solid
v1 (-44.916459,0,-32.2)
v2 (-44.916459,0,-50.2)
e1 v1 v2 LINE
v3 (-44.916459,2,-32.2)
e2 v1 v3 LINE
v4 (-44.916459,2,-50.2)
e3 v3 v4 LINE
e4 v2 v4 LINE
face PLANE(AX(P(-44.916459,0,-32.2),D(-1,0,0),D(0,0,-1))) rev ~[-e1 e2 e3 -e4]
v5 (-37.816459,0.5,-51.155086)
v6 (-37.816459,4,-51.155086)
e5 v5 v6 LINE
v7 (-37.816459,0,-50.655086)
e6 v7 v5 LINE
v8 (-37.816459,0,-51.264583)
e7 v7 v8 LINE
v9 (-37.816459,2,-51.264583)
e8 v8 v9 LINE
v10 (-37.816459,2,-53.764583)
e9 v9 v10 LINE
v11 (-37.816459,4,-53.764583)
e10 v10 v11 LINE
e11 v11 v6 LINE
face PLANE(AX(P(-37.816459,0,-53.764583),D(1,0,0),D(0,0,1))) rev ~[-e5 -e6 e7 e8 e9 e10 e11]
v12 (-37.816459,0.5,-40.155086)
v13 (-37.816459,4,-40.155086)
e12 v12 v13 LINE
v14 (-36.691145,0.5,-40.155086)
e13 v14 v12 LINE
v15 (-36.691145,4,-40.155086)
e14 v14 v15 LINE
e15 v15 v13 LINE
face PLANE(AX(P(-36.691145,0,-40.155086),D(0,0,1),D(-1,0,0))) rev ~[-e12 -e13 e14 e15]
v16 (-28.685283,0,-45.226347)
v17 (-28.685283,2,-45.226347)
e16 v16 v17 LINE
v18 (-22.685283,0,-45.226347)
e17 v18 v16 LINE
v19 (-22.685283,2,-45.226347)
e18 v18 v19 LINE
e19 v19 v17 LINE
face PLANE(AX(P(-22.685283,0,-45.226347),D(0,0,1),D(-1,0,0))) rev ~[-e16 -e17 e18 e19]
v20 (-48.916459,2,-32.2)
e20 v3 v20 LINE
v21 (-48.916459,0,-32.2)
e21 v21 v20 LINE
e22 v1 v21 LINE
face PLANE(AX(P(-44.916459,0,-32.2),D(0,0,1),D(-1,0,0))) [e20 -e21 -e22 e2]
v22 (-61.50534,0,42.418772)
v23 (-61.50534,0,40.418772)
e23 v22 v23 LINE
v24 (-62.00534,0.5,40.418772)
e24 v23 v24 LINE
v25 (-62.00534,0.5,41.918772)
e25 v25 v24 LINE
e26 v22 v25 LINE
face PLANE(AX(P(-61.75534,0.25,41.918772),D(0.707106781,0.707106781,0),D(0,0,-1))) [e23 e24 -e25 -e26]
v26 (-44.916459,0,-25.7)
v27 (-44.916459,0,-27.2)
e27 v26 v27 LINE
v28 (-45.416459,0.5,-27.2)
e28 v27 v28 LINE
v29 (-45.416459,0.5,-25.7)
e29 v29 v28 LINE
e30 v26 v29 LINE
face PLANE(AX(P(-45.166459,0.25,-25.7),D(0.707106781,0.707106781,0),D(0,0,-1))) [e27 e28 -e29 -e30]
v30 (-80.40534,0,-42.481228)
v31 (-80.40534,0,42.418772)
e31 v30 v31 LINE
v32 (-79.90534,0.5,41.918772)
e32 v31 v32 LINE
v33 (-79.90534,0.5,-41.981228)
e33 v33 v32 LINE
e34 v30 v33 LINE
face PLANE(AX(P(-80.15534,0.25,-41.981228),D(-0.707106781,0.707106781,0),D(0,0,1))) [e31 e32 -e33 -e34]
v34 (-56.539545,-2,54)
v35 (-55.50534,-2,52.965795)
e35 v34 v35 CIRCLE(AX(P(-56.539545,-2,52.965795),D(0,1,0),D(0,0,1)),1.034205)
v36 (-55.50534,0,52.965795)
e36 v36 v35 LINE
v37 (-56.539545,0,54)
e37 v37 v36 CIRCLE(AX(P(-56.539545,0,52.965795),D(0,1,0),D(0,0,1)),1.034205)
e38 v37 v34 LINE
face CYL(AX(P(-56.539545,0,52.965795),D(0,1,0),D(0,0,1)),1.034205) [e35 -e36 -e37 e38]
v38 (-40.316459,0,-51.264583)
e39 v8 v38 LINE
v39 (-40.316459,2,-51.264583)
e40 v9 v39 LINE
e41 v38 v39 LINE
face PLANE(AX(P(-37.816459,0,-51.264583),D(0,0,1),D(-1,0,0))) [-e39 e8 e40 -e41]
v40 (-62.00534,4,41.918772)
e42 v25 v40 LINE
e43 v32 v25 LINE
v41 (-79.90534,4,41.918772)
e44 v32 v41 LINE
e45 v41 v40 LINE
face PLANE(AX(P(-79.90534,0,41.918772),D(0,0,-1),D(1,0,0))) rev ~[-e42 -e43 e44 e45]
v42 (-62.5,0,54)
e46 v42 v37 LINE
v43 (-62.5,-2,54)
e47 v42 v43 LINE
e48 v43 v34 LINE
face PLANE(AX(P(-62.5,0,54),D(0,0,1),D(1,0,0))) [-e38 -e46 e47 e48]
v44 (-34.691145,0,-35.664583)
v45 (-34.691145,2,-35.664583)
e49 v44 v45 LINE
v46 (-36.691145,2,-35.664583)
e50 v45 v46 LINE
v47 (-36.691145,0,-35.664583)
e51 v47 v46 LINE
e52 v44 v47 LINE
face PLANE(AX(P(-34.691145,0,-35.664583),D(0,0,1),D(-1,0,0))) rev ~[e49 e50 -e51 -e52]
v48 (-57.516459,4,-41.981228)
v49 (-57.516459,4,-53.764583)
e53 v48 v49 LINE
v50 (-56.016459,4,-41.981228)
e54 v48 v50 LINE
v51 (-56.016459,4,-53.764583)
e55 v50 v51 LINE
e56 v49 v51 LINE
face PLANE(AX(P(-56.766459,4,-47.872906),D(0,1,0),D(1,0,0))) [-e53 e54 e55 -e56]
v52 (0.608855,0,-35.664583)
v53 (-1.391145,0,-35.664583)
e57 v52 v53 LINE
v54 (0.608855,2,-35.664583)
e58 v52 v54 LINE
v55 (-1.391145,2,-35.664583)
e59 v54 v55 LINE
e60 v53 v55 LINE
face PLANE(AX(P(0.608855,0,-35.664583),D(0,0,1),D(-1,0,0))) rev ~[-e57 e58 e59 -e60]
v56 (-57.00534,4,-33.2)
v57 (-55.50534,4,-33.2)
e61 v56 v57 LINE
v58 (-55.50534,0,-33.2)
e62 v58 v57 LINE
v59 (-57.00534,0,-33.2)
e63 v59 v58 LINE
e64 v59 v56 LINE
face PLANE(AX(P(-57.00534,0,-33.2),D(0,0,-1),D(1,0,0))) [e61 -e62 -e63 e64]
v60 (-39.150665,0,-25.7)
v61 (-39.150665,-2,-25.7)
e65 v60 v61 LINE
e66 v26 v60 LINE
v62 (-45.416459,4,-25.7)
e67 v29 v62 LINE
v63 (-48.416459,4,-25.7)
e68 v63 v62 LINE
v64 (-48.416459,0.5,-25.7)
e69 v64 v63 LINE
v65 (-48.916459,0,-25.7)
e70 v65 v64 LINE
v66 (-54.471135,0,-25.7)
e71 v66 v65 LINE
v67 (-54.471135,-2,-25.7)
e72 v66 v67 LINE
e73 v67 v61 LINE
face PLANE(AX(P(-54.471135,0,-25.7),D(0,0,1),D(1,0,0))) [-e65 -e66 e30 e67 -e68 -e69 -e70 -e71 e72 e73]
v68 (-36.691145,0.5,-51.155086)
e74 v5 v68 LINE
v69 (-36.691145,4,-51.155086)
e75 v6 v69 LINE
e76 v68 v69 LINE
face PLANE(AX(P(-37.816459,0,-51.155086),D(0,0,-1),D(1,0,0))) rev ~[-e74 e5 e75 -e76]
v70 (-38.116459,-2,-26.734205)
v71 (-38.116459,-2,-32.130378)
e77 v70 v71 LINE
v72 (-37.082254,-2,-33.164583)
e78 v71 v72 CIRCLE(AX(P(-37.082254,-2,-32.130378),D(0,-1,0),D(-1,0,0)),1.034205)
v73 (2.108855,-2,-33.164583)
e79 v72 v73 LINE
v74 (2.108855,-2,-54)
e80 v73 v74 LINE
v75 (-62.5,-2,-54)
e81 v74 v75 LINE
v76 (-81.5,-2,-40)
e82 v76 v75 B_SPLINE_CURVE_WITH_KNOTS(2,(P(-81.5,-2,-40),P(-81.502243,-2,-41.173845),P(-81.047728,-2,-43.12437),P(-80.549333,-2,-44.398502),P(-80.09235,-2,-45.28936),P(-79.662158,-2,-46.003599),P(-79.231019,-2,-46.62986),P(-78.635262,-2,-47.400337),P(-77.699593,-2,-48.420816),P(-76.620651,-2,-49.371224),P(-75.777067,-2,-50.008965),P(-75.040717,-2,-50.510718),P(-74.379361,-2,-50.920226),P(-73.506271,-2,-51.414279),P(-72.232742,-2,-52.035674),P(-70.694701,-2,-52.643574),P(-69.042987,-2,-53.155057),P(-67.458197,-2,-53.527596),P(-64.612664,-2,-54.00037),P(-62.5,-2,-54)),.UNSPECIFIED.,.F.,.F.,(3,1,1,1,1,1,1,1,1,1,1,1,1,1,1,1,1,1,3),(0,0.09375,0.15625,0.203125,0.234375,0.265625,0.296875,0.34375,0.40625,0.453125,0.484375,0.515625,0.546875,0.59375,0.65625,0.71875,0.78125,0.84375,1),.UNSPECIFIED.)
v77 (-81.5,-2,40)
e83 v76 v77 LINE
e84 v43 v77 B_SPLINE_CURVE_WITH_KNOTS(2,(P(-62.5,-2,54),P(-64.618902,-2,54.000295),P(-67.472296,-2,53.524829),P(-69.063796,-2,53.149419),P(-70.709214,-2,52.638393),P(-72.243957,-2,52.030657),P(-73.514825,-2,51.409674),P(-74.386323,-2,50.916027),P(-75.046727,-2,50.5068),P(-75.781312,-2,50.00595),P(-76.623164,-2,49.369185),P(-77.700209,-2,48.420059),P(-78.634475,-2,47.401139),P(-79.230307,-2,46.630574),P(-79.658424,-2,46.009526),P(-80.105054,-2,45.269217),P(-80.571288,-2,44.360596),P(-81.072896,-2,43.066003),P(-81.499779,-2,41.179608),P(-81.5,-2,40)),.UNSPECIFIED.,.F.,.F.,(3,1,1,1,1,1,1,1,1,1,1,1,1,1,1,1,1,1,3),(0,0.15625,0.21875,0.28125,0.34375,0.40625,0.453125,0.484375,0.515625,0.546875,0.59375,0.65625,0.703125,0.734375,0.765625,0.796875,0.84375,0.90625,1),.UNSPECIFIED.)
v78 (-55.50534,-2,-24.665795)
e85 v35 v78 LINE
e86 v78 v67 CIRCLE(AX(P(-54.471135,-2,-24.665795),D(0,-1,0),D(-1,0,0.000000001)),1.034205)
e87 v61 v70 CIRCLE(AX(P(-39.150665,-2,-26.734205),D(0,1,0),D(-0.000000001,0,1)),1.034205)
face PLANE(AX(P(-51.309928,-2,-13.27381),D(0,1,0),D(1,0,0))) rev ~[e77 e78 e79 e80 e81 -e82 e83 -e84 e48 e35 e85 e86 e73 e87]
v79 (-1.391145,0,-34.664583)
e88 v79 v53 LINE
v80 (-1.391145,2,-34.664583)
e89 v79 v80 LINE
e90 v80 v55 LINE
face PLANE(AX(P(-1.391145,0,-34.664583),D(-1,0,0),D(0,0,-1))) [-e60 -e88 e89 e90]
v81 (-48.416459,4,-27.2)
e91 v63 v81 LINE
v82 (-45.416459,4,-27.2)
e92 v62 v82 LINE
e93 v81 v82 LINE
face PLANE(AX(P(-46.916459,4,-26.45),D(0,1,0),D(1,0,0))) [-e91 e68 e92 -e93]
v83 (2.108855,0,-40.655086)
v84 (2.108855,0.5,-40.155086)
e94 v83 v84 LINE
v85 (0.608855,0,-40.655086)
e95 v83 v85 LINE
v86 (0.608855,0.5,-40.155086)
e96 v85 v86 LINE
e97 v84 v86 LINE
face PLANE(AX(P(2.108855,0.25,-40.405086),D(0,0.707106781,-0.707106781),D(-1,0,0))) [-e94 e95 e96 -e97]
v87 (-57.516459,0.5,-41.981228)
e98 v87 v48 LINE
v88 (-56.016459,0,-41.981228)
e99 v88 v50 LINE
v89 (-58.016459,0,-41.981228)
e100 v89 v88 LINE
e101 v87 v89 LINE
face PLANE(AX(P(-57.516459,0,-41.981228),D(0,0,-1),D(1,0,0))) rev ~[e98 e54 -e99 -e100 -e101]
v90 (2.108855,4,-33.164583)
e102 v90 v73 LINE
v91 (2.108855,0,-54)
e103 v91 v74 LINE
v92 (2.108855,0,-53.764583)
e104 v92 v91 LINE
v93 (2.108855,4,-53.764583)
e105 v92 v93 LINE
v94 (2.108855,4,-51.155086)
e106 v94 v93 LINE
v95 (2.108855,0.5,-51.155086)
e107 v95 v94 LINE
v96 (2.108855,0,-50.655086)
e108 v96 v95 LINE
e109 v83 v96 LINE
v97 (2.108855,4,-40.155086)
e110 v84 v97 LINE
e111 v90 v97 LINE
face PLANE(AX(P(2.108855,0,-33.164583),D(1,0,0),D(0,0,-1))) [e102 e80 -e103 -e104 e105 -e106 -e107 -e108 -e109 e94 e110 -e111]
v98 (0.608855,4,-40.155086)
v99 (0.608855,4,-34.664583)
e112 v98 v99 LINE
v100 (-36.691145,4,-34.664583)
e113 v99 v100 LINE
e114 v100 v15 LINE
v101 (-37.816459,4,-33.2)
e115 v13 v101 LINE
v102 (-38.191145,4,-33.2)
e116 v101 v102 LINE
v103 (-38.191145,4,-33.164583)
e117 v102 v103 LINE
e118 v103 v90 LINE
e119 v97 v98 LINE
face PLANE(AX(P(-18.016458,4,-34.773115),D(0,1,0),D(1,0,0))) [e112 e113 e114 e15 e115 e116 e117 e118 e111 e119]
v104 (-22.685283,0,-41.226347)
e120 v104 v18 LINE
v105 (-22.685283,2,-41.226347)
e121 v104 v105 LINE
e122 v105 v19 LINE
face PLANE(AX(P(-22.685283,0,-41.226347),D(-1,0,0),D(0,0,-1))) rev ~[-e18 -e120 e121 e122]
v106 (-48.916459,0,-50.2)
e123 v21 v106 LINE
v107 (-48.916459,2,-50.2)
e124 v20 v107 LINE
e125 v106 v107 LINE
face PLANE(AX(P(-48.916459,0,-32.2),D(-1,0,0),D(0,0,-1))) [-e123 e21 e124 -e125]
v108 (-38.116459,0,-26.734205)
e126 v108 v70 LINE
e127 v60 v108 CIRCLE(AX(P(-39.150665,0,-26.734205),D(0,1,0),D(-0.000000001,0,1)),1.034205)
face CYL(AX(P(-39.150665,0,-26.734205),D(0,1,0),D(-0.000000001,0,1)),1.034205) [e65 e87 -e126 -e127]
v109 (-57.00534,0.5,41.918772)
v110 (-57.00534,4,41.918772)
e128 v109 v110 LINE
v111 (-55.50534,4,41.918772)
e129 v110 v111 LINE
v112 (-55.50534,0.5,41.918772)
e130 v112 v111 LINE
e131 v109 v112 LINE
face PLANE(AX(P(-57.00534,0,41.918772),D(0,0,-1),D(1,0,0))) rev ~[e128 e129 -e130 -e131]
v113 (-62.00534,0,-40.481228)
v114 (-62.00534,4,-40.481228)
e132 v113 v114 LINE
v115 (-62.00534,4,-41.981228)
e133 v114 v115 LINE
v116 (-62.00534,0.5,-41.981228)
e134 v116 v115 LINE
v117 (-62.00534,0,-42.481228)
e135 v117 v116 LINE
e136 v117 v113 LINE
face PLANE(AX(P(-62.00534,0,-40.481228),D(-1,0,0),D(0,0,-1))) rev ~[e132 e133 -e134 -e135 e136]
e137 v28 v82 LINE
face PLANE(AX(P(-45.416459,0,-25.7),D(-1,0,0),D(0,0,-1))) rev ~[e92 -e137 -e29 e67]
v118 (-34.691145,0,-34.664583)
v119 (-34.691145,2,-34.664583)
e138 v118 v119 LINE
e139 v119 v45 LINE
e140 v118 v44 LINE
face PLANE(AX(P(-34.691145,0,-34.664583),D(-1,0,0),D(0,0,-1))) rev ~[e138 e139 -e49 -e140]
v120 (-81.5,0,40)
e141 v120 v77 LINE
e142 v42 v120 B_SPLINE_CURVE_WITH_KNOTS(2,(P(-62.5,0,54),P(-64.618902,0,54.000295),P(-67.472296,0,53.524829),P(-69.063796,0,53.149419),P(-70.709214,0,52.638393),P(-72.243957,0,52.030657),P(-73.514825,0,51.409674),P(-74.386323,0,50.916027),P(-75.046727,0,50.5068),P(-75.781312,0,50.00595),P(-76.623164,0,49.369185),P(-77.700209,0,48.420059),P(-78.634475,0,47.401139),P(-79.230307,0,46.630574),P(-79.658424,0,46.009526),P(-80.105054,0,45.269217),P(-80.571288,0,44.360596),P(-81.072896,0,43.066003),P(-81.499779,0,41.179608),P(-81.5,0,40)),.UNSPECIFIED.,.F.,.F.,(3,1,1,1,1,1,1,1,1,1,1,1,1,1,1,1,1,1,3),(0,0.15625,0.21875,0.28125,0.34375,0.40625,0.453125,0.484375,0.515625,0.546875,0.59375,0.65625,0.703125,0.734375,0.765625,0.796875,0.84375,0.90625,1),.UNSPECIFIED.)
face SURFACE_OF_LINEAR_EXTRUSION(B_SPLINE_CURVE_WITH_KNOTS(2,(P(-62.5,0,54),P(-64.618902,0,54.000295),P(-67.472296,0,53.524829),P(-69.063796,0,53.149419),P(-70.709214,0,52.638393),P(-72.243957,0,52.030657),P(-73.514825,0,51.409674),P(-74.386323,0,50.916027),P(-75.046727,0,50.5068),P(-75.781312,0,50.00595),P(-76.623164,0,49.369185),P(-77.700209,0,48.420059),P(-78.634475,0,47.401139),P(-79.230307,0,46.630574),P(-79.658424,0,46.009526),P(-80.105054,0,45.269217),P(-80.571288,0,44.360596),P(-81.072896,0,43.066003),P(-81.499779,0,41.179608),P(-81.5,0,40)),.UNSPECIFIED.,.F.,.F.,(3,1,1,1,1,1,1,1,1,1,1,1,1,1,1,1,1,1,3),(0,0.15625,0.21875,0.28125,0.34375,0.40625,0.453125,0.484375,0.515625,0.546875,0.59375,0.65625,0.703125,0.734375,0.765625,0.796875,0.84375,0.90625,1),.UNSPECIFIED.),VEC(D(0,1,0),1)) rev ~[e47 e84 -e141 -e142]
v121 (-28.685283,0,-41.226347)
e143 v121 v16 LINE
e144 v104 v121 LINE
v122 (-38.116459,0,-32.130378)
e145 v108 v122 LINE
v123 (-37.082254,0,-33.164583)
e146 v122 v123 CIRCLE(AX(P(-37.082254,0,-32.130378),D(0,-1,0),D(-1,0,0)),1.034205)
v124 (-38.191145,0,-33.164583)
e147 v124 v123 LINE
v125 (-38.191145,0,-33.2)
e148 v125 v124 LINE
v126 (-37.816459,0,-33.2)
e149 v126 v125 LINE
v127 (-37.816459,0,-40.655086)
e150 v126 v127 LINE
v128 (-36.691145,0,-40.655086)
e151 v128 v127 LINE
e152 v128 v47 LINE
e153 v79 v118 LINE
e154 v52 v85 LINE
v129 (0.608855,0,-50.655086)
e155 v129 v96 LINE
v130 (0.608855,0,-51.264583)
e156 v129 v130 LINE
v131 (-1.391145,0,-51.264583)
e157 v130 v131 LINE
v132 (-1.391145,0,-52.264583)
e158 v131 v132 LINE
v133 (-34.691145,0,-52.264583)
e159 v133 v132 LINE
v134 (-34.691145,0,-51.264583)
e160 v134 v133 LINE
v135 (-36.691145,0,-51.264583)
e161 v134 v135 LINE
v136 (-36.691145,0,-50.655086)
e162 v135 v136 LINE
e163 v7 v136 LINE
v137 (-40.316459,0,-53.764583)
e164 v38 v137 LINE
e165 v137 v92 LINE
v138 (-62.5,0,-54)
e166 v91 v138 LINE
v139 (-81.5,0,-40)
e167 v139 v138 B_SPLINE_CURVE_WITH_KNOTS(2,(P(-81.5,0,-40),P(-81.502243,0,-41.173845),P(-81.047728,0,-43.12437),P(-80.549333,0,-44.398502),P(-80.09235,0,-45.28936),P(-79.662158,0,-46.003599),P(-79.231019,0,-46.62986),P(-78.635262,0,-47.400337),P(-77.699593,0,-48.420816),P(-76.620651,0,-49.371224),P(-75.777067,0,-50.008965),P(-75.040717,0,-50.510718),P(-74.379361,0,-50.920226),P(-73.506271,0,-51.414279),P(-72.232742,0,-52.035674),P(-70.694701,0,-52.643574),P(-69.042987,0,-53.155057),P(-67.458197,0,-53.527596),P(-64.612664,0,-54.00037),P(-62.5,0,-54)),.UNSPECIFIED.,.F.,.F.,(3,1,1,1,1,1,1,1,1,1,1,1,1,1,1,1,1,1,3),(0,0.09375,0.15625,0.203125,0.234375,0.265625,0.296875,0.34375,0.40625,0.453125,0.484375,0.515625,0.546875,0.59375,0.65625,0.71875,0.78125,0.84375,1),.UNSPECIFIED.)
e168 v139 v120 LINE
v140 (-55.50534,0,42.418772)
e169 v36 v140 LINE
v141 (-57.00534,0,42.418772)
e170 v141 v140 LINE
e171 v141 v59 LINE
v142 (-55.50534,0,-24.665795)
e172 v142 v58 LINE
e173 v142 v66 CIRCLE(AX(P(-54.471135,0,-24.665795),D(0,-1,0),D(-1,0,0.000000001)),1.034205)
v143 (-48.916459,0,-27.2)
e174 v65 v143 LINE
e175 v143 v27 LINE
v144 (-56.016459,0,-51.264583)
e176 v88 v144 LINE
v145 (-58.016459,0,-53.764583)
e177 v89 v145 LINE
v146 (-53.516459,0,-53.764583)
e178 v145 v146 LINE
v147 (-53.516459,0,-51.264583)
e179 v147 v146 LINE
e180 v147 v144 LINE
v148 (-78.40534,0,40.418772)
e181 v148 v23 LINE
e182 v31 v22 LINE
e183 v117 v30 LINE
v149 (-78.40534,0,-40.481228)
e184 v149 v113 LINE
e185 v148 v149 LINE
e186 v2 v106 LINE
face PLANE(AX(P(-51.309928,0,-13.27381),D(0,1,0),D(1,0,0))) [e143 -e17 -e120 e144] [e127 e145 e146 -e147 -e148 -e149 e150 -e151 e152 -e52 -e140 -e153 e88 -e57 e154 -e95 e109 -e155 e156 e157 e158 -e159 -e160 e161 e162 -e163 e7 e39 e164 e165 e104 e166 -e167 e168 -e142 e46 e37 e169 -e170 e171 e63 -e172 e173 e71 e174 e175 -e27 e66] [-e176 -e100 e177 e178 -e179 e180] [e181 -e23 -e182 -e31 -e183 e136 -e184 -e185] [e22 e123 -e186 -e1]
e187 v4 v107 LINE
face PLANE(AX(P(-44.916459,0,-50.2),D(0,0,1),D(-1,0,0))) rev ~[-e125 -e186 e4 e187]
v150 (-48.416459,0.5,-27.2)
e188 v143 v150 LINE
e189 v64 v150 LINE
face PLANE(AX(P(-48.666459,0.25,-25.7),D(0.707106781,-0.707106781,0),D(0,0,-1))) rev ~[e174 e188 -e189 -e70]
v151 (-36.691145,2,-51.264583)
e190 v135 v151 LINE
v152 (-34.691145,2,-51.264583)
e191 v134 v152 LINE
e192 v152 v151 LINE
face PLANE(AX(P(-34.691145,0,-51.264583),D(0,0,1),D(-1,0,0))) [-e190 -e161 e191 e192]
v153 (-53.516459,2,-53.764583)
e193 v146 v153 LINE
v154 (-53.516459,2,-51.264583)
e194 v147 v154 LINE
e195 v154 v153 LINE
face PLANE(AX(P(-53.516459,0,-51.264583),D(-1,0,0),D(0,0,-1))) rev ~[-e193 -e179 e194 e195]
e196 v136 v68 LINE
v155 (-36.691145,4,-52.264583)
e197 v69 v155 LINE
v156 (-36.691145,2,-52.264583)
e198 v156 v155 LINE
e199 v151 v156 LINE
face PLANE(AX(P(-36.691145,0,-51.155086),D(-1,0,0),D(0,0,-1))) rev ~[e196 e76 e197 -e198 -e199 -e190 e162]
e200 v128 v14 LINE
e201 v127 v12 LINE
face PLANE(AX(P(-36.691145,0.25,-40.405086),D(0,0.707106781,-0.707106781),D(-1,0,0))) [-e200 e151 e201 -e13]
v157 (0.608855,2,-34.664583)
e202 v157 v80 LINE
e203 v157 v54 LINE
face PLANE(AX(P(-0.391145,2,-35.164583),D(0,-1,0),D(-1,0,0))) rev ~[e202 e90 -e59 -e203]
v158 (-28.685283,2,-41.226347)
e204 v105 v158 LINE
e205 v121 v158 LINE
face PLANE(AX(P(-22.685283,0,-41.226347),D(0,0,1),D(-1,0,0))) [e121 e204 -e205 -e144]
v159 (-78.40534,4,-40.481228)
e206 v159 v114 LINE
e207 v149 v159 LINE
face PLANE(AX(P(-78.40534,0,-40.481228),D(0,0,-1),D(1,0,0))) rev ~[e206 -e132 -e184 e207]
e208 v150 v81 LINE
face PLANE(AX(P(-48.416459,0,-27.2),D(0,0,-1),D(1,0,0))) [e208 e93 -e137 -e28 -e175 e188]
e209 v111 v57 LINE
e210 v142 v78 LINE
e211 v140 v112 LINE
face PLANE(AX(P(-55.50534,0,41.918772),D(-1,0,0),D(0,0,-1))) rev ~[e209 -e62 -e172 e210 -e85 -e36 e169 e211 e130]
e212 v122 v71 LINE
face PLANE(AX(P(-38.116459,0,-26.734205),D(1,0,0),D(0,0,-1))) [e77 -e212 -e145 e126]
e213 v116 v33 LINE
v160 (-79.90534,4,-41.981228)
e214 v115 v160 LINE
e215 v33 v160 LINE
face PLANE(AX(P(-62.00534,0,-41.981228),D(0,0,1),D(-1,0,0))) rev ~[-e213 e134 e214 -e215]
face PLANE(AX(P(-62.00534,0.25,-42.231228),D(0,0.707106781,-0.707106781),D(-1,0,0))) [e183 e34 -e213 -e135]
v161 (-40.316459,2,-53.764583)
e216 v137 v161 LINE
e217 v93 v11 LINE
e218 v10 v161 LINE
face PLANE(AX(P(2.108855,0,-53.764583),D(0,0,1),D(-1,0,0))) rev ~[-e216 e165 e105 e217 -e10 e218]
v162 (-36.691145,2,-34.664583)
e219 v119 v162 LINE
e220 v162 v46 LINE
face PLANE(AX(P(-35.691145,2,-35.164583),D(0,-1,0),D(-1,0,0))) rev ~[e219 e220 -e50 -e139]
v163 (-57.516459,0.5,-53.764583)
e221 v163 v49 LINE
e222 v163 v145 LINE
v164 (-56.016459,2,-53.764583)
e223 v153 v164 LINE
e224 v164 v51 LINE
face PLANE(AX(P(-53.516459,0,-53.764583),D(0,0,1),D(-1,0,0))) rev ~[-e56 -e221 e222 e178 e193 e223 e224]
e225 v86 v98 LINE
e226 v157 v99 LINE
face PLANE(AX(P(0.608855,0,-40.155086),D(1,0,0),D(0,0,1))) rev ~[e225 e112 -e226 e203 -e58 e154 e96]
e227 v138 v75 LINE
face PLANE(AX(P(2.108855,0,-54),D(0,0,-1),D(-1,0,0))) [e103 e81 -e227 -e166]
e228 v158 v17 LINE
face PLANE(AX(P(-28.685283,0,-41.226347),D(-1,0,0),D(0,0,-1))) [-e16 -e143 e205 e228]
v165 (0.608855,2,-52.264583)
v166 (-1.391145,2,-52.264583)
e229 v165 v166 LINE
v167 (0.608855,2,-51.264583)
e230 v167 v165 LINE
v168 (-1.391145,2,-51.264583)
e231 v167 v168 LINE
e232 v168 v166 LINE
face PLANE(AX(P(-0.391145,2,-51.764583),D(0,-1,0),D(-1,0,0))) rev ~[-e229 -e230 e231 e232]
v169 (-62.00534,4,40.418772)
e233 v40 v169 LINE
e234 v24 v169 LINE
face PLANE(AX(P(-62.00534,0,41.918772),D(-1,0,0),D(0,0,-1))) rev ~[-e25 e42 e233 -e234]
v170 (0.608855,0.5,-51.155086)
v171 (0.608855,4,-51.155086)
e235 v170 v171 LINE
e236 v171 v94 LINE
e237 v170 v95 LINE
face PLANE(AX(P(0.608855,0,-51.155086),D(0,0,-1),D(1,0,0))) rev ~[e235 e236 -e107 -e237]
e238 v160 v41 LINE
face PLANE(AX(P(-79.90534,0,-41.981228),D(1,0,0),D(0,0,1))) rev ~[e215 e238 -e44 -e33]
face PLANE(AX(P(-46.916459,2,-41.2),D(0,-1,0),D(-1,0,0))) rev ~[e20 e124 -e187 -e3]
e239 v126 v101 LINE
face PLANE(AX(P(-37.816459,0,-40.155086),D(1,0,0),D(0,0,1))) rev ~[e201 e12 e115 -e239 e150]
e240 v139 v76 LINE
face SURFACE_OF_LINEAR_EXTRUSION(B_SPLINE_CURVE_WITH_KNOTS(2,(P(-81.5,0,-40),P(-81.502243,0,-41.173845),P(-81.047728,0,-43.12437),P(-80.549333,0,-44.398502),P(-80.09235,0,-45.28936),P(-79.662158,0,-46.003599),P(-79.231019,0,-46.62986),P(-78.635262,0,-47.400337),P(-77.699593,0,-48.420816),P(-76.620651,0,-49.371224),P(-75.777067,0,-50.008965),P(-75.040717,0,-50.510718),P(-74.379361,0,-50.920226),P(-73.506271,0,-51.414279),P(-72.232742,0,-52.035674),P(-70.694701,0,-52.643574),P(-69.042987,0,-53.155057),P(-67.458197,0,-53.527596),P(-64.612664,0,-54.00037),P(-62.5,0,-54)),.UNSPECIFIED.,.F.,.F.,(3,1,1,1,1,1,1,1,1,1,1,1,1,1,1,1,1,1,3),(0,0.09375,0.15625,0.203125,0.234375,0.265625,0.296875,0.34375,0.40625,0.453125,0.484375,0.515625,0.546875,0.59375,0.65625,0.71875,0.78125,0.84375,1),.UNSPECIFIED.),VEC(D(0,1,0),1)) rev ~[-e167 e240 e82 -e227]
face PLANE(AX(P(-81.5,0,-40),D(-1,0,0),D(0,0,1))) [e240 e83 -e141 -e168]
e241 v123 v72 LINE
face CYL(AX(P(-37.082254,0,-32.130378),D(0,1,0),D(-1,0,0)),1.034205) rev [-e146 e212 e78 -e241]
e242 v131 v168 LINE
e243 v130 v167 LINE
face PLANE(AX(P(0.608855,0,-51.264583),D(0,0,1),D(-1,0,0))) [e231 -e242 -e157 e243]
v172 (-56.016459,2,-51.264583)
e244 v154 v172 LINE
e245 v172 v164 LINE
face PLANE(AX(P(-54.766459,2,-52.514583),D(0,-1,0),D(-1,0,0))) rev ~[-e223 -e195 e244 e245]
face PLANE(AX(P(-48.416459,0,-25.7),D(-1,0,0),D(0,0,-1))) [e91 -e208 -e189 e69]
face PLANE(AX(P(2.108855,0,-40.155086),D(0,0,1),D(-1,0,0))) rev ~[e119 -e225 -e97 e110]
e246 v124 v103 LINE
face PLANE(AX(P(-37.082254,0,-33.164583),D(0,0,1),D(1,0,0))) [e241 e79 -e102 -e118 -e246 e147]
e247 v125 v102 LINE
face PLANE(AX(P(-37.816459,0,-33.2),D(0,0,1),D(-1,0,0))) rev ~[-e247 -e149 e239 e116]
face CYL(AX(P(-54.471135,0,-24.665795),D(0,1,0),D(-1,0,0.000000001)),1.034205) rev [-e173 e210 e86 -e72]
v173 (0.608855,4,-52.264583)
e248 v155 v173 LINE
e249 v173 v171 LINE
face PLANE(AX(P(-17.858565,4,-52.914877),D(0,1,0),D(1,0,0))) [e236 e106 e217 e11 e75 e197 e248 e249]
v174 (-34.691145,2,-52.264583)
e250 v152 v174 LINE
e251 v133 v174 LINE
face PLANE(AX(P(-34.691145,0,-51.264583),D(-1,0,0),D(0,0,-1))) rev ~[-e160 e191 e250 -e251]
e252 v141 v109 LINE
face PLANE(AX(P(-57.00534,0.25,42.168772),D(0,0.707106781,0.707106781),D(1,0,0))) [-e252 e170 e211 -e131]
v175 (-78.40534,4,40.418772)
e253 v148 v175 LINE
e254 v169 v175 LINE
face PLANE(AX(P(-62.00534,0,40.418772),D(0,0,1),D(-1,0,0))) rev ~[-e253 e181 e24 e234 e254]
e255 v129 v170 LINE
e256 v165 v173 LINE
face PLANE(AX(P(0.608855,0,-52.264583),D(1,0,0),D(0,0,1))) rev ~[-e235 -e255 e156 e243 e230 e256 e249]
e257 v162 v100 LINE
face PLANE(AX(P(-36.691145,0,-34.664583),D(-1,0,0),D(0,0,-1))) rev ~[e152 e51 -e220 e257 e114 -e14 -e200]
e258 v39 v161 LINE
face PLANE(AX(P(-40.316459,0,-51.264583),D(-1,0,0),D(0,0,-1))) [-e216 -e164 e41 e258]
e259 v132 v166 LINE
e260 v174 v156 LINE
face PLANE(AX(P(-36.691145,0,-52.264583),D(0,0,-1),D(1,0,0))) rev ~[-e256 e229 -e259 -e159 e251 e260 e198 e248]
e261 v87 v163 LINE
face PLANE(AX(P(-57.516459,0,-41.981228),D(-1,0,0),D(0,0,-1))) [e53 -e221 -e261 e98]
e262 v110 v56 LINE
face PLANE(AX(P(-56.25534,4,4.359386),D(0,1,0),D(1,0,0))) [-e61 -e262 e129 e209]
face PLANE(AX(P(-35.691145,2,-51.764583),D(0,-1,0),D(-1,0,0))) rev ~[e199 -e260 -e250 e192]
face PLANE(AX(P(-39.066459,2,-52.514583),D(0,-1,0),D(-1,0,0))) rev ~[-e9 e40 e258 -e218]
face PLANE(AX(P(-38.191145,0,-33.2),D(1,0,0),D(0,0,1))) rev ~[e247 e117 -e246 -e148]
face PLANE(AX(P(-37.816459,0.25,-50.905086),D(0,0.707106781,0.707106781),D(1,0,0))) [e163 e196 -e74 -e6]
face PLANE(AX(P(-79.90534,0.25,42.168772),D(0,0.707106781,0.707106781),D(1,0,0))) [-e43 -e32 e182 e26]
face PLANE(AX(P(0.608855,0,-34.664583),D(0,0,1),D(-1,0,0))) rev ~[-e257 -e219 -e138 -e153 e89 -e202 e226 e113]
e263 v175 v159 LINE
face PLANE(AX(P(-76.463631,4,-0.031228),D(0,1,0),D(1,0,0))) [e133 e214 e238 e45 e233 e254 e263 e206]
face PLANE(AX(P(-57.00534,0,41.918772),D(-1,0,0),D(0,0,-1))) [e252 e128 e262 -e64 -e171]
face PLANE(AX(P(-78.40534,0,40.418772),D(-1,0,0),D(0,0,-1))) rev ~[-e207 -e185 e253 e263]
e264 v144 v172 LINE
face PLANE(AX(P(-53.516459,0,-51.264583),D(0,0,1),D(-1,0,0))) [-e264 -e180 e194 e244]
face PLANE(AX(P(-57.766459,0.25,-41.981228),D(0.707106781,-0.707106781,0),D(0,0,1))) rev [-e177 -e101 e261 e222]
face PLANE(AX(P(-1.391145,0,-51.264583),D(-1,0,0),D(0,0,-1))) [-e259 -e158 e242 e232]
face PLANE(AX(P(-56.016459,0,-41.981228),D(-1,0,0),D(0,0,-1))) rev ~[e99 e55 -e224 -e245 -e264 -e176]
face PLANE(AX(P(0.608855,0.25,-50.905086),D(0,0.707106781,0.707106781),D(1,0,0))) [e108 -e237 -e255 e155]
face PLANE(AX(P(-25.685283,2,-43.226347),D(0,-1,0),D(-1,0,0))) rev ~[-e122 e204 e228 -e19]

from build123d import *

# Parameters (mm, degrees)
BOSS_EXTRUDE1_DEPTH   = 4
SKETCH1_W             = 1.5
SKETCH1_H             = 11.783355086
BOSS_EXTRUDE1_2_DEPTH = 4
SKETCH1_H_2           = 75.118771789
BOSS_EXTRUDE1_3_DEPTH = 4
BOSS_EXTRUDE1_4_DEPTH = 4
BOSS_EXTRUDE1_5_DEPTH = 4
SKETCH1_W_2           = 3
SKETCH1_H_3           = 1.5
BOSS_EXTRUDE1_6_DEPTH = 4
BOSS_EXTRUDE2_DEPTH   = 2
SKETCH5_W             = 2.5
SKETCH5_H             = 2.5
SKETCH5_W_2           = 2
SKETCH5_H_2           = 1
SKETCH5_W_3           = 4
SKETCH5_H_3           = 18
SKETCH5_W_4           = 6
SKETCH5_H_4           = 4
BOSS_EXTRUDE3_DEPTH   = 2
CHAMFER1_SIZE         = 0.5


with BuildPart() as part:
    # Sketch1 → Boss-Extrude1 (new body)
    with BuildSketch(Plane(origin=(0, 0, 0), x_dir=(1, 0, 0), z_dir=(0, 1, 0))):
        Polygon((-78.405339878, 40.481228211), (-62.005339878, 40.481228211), (-62.005339878, 41.981228211), (-79.905339878, 41.981228211), (-79.905339878, -41.918771789), (-62.005339878, -41.918771789), (-62.005339878, -40.418771789), (-78.405339878, -40.418771789), align=None)
    extrude(amount=BOSS_EXTRUDE1_DEPTH)



with BuildPart() as body_2:
    # Sketch1 → Boss-Extrude1 2 (new body)
    with BuildSketch(Plane(origin=(0, 0, 0), x_dir=(1, 0, 0), z_dir=(0, 1, 0))):
        with Locations((-56.76645947, 47.872905754)):
            Rectangle(SKETCH1_W, SKETCH1_H)
    extrude(amount=BOSS_EXTRUDE1_2_DEPTH)


with BuildPart() as body_3:
    # Sketch1 → Boss-Extrude1 3 (new body)
    with BuildSketch(Plane(origin=(0, 0, 0), x_dir=(1, 0, 0), z_dir=(0, 1, 0))):
        with Locations((-56.255339878, -4.359385895)):
            Rectangle(SKETCH1_W, SKETCH1_H_2)
    extrude(amount=BOSS_EXTRUDE1_3_DEPTH)


with BuildPart() as body_4:
    # Sketch1 → Boss-Extrude1 4 (new body)
    with BuildSketch(Plane(origin=(0, 0, 0), x_dir=(1, 0, 0), z_dir=(0, 1, 0))):
        Polygon((-38.191144671, 33.2), (-38.191144671, 33.164583297), (2.108855329, 33.164583297), (2.108855329, 40.155086191), (0.608855329, 40.155086191), (0.608855329, 34.664583297), (-36.691144671, 34.664583297), (-36.691144671, 40.155086191), (-37.81645947, 40.155086191), (-37.81645947, 33.2), align=None)
    extrude(amount=BOSS_EXTRUDE1_4_DEPTH)


with BuildPart() as body_5:
    # Sketch1 → Boss-Extrude1 5 (new body)
    with BuildSketch(Plane(origin=(0, 0, 0), x_dir=(1, 0, 0), z_dir=(0, 1, 0))):
        Polygon((-36.691144671, 52.264583297), (0.608855329, 52.264583297), (0.608855329, 51.155086191), (2.108855329, 51.155086191), (2.108855329, 53.764583297), (-37.81645947, 53.764583297), (-37.81645947, 51.155086191), (-36.691144671, 51.155086191), align=None)
    extrude(amount=BOSS_EXTRUDE1_5_DEPTH)


with BuildPart() as body_6:
    # Sketch1 → Boss-Extrude1 6 (new body)
    with BuildSketch(Plane(origin=(0, 0, 0), x_dir=(1, 0, 0), z_dir=(0, 1, 0))):
        with Locations((-46.91645947, 26.45)):
            Rectangle(SKETCH1_W_2, SKETCH1_H_3)
    extrude(amount=BOSS_EXTRUDE1_6_DEPTH)


with BuildPart() as part_1:
    add(part.part)

    add(body_2.part)  # Boss-Extrude2 merges body 2

    add(body_3.part)  # Boss-Extrude2 merges body 3

    add(body_4.part)  # Boss-Extrude2 merges body 4

    add(body_5.part)  # Boss-Extrude2 merges body 5

    add(body_6.part)  # Boss-Extrude2 merges body 6
    # Sketch2 → Boss-Extrude2 (add)
    with BuildSketch(Plane(origin=(0, 0, 0), x_dir=(1, 0, 0), z_dir=(0, 1, 0))):
        with BuildLine():
            Line((2.108855329, 33.164583297), (2.108855329, 54))
            Line((2.108855329, 54), (-62.5, 54))
            add(Edge.make_bspline(
                [(-81.5, 40), (-81.502243344, 41.173845434), (-81.047727895, 43.124370376), (-80.54933313, 44.398501715), (-80.092349724, 45.289360005), (-79.662158352, 46.003599412), (-79.23101892, 46.6298604), (-78.635262131, 47.400336774), (-77.699592936, 48.420815991), (-76.62065129, 49.371224085), (-75.777066539, 50.008965255), (-75.040717172, 50.51071787), (-74.379360639, 50.920225906), (-73.506270835, 51.414278971), (-72.232742284, 52.035673953), (-70.694700828, 52.643574158), (-69.042987408, 53.155056852), (-67.458196566, 53.527596425), (-64.612663916, 54.000370418), (-62.5, 54)],
                knots=[0, 0, 0, 0.09375, 0.15625, 0.203125, 0.234375, 0.265625, 0.296875, 0.34375, 0.40625, 0.453125, 0.484375, 0.515625, 0.546875, 0.59375, 0.65625, 0.71875, 0.78125, 0.84375, 1, 1, 1], degree=2))
            Line((-81.5, 40), (-81.5, -40))
            add(Edge.make_bspline(
                [(-62.5, -54), (-64.618902003, -54.0002947), (-67.472295819, -53.524829059), (-69.063795556, -53.149419159), (-70.709213964, -52.638392619), (-72.243956614, -52.030656852), (-73.514824803, -51.409674441), (-74.386323364, -50.916027289), (-75.046726548, -50.506800365), (-75.781311966, -50.005949538), (-76.623163869, -49.369184511), (-77.700208559, -48.420059301), (-78.634474848, -47.401139234), (-79.230307159, -46.630574159), (-79.658424233, -46.009526136), (-80.105053847, -45.269217428), (-80.571288214, -44.360595976), (-81.072895683, -43.06600328), (-81.499778686, -41.179608093), (-81.5, -40)],
                knots=[0, 0, 0, 0.15625, 0.21875, 0.28125, 0.34375, 0.40625, 0.453125, 0.484375, 0.515625, 0.546875, 0.59375, 0.65625, 0.703125, 0.734375, 0.765625, 0.796875, 0.84375, 0.90625, 1, 1, 1], degree=2))
            Line((-62.5, -54), (-56.539545182, -54))
            ThreePointArc((-56.539545182, -54), (-55.808251599, -53.69708828), (-55.505339878, -52.965794696))
            Line((-55.505339878, -52.965794696), (-55.505339878, 24.665794696))
            ThreePointArc((-55.505339878, 24.665794696), (-55.202428158, 25.39708828), (-54.471134574, 25.7))
            Line((-54.471134574, 25.7), (-39.150664774, 25.7))
            ThreePointArc((-39.150664774, 25.7), (-38.41937119, 26.00291172), (-38.11645947, 26.734205304))
            Line((-38.11645947, 26.734205304), (-38.11645947, 32.130377993))
            ThreePointArc((-38.11645947, 32.130377993), (-37.813547749, 32.861671577), (-37.082254166, 33.164583297))
            Line((-37.082254166, 33.164583297), (2.108855329, 33.164583297))
        make_face()
    extrude(amount=-BOSS_EXTRUDE2_DEPTH)

    # Sketch5 → Boss-Extrude3 (add)
    with BuildSketch(Plane(origin=(0, 0, 0), x_dir=(-1, 0, 0), z_dir=(0, -1, 0))):
        with Locations((54.76645947, 52.514583297)):
            Rectangle(SKETCH5_W, SKETCH5_H)
        with Locations((35.691144671, 51.764583297)):
            Rectangle(SKETCH5_W_2, SKETCH5_H_2)
        with Locations((46.91645947, 41.2)):
            Rectangle(SKETCH5_W_3, SKETCH5_H_3)
        with Locations((39.06645947, 52.514583297)):
            Rectangle(SKETCH5_W, SKETCH5_H)
        with Locations((35.691144671, 35.164583297)):
            Rectangle(SKETCH5_W_2, SKETCH5_H_2)
        with Locations((0.391144671, 51.764583297)):
            Rectangle(SKETCH5_W_2, SKETCH5_H_2)
        with Locations((0.391144671, 35.164583297)):
            Rectangle(SKETCH5_W_2, SKETCH5_H_2)
        with Locations((25.685282836, 43.226347046)):
            Rectangle(SKETCH5_W_4, SKETCH5_H_4)
    extrude(amount=-BOSS_EXTRUDE3_DEPTH)

    # Chamfer1
    chamfer1_edges = [part_1.edges().sort_by_distance(p)[0] for p in [
        (-37.25380207, 0, -40.155086191),
        (-37.25380207, 0, -51.155086191),
        (1.358855329, 0, -40.155086191),
        (1.358855329, 0, -51.155086191),
        (-45.41645947, 0, -26.45),
        (-48.41645947, 0, -26.45),
        (-56.255339878, 0, 41.918771789),
        (-57.51645947, 0, -47.872905754),
        (-62.005339878, 0, 41.168771789),
        (-70.955339878, 0, 41.918771789),
        (-79.905339878, 0, -0.031228211),
        (-70.955339878, 0, -41.981228211),
    ]]
    chamfer(chamfer1_edges, length=CHAMFER1_SIZE)


solid = part_1.part
